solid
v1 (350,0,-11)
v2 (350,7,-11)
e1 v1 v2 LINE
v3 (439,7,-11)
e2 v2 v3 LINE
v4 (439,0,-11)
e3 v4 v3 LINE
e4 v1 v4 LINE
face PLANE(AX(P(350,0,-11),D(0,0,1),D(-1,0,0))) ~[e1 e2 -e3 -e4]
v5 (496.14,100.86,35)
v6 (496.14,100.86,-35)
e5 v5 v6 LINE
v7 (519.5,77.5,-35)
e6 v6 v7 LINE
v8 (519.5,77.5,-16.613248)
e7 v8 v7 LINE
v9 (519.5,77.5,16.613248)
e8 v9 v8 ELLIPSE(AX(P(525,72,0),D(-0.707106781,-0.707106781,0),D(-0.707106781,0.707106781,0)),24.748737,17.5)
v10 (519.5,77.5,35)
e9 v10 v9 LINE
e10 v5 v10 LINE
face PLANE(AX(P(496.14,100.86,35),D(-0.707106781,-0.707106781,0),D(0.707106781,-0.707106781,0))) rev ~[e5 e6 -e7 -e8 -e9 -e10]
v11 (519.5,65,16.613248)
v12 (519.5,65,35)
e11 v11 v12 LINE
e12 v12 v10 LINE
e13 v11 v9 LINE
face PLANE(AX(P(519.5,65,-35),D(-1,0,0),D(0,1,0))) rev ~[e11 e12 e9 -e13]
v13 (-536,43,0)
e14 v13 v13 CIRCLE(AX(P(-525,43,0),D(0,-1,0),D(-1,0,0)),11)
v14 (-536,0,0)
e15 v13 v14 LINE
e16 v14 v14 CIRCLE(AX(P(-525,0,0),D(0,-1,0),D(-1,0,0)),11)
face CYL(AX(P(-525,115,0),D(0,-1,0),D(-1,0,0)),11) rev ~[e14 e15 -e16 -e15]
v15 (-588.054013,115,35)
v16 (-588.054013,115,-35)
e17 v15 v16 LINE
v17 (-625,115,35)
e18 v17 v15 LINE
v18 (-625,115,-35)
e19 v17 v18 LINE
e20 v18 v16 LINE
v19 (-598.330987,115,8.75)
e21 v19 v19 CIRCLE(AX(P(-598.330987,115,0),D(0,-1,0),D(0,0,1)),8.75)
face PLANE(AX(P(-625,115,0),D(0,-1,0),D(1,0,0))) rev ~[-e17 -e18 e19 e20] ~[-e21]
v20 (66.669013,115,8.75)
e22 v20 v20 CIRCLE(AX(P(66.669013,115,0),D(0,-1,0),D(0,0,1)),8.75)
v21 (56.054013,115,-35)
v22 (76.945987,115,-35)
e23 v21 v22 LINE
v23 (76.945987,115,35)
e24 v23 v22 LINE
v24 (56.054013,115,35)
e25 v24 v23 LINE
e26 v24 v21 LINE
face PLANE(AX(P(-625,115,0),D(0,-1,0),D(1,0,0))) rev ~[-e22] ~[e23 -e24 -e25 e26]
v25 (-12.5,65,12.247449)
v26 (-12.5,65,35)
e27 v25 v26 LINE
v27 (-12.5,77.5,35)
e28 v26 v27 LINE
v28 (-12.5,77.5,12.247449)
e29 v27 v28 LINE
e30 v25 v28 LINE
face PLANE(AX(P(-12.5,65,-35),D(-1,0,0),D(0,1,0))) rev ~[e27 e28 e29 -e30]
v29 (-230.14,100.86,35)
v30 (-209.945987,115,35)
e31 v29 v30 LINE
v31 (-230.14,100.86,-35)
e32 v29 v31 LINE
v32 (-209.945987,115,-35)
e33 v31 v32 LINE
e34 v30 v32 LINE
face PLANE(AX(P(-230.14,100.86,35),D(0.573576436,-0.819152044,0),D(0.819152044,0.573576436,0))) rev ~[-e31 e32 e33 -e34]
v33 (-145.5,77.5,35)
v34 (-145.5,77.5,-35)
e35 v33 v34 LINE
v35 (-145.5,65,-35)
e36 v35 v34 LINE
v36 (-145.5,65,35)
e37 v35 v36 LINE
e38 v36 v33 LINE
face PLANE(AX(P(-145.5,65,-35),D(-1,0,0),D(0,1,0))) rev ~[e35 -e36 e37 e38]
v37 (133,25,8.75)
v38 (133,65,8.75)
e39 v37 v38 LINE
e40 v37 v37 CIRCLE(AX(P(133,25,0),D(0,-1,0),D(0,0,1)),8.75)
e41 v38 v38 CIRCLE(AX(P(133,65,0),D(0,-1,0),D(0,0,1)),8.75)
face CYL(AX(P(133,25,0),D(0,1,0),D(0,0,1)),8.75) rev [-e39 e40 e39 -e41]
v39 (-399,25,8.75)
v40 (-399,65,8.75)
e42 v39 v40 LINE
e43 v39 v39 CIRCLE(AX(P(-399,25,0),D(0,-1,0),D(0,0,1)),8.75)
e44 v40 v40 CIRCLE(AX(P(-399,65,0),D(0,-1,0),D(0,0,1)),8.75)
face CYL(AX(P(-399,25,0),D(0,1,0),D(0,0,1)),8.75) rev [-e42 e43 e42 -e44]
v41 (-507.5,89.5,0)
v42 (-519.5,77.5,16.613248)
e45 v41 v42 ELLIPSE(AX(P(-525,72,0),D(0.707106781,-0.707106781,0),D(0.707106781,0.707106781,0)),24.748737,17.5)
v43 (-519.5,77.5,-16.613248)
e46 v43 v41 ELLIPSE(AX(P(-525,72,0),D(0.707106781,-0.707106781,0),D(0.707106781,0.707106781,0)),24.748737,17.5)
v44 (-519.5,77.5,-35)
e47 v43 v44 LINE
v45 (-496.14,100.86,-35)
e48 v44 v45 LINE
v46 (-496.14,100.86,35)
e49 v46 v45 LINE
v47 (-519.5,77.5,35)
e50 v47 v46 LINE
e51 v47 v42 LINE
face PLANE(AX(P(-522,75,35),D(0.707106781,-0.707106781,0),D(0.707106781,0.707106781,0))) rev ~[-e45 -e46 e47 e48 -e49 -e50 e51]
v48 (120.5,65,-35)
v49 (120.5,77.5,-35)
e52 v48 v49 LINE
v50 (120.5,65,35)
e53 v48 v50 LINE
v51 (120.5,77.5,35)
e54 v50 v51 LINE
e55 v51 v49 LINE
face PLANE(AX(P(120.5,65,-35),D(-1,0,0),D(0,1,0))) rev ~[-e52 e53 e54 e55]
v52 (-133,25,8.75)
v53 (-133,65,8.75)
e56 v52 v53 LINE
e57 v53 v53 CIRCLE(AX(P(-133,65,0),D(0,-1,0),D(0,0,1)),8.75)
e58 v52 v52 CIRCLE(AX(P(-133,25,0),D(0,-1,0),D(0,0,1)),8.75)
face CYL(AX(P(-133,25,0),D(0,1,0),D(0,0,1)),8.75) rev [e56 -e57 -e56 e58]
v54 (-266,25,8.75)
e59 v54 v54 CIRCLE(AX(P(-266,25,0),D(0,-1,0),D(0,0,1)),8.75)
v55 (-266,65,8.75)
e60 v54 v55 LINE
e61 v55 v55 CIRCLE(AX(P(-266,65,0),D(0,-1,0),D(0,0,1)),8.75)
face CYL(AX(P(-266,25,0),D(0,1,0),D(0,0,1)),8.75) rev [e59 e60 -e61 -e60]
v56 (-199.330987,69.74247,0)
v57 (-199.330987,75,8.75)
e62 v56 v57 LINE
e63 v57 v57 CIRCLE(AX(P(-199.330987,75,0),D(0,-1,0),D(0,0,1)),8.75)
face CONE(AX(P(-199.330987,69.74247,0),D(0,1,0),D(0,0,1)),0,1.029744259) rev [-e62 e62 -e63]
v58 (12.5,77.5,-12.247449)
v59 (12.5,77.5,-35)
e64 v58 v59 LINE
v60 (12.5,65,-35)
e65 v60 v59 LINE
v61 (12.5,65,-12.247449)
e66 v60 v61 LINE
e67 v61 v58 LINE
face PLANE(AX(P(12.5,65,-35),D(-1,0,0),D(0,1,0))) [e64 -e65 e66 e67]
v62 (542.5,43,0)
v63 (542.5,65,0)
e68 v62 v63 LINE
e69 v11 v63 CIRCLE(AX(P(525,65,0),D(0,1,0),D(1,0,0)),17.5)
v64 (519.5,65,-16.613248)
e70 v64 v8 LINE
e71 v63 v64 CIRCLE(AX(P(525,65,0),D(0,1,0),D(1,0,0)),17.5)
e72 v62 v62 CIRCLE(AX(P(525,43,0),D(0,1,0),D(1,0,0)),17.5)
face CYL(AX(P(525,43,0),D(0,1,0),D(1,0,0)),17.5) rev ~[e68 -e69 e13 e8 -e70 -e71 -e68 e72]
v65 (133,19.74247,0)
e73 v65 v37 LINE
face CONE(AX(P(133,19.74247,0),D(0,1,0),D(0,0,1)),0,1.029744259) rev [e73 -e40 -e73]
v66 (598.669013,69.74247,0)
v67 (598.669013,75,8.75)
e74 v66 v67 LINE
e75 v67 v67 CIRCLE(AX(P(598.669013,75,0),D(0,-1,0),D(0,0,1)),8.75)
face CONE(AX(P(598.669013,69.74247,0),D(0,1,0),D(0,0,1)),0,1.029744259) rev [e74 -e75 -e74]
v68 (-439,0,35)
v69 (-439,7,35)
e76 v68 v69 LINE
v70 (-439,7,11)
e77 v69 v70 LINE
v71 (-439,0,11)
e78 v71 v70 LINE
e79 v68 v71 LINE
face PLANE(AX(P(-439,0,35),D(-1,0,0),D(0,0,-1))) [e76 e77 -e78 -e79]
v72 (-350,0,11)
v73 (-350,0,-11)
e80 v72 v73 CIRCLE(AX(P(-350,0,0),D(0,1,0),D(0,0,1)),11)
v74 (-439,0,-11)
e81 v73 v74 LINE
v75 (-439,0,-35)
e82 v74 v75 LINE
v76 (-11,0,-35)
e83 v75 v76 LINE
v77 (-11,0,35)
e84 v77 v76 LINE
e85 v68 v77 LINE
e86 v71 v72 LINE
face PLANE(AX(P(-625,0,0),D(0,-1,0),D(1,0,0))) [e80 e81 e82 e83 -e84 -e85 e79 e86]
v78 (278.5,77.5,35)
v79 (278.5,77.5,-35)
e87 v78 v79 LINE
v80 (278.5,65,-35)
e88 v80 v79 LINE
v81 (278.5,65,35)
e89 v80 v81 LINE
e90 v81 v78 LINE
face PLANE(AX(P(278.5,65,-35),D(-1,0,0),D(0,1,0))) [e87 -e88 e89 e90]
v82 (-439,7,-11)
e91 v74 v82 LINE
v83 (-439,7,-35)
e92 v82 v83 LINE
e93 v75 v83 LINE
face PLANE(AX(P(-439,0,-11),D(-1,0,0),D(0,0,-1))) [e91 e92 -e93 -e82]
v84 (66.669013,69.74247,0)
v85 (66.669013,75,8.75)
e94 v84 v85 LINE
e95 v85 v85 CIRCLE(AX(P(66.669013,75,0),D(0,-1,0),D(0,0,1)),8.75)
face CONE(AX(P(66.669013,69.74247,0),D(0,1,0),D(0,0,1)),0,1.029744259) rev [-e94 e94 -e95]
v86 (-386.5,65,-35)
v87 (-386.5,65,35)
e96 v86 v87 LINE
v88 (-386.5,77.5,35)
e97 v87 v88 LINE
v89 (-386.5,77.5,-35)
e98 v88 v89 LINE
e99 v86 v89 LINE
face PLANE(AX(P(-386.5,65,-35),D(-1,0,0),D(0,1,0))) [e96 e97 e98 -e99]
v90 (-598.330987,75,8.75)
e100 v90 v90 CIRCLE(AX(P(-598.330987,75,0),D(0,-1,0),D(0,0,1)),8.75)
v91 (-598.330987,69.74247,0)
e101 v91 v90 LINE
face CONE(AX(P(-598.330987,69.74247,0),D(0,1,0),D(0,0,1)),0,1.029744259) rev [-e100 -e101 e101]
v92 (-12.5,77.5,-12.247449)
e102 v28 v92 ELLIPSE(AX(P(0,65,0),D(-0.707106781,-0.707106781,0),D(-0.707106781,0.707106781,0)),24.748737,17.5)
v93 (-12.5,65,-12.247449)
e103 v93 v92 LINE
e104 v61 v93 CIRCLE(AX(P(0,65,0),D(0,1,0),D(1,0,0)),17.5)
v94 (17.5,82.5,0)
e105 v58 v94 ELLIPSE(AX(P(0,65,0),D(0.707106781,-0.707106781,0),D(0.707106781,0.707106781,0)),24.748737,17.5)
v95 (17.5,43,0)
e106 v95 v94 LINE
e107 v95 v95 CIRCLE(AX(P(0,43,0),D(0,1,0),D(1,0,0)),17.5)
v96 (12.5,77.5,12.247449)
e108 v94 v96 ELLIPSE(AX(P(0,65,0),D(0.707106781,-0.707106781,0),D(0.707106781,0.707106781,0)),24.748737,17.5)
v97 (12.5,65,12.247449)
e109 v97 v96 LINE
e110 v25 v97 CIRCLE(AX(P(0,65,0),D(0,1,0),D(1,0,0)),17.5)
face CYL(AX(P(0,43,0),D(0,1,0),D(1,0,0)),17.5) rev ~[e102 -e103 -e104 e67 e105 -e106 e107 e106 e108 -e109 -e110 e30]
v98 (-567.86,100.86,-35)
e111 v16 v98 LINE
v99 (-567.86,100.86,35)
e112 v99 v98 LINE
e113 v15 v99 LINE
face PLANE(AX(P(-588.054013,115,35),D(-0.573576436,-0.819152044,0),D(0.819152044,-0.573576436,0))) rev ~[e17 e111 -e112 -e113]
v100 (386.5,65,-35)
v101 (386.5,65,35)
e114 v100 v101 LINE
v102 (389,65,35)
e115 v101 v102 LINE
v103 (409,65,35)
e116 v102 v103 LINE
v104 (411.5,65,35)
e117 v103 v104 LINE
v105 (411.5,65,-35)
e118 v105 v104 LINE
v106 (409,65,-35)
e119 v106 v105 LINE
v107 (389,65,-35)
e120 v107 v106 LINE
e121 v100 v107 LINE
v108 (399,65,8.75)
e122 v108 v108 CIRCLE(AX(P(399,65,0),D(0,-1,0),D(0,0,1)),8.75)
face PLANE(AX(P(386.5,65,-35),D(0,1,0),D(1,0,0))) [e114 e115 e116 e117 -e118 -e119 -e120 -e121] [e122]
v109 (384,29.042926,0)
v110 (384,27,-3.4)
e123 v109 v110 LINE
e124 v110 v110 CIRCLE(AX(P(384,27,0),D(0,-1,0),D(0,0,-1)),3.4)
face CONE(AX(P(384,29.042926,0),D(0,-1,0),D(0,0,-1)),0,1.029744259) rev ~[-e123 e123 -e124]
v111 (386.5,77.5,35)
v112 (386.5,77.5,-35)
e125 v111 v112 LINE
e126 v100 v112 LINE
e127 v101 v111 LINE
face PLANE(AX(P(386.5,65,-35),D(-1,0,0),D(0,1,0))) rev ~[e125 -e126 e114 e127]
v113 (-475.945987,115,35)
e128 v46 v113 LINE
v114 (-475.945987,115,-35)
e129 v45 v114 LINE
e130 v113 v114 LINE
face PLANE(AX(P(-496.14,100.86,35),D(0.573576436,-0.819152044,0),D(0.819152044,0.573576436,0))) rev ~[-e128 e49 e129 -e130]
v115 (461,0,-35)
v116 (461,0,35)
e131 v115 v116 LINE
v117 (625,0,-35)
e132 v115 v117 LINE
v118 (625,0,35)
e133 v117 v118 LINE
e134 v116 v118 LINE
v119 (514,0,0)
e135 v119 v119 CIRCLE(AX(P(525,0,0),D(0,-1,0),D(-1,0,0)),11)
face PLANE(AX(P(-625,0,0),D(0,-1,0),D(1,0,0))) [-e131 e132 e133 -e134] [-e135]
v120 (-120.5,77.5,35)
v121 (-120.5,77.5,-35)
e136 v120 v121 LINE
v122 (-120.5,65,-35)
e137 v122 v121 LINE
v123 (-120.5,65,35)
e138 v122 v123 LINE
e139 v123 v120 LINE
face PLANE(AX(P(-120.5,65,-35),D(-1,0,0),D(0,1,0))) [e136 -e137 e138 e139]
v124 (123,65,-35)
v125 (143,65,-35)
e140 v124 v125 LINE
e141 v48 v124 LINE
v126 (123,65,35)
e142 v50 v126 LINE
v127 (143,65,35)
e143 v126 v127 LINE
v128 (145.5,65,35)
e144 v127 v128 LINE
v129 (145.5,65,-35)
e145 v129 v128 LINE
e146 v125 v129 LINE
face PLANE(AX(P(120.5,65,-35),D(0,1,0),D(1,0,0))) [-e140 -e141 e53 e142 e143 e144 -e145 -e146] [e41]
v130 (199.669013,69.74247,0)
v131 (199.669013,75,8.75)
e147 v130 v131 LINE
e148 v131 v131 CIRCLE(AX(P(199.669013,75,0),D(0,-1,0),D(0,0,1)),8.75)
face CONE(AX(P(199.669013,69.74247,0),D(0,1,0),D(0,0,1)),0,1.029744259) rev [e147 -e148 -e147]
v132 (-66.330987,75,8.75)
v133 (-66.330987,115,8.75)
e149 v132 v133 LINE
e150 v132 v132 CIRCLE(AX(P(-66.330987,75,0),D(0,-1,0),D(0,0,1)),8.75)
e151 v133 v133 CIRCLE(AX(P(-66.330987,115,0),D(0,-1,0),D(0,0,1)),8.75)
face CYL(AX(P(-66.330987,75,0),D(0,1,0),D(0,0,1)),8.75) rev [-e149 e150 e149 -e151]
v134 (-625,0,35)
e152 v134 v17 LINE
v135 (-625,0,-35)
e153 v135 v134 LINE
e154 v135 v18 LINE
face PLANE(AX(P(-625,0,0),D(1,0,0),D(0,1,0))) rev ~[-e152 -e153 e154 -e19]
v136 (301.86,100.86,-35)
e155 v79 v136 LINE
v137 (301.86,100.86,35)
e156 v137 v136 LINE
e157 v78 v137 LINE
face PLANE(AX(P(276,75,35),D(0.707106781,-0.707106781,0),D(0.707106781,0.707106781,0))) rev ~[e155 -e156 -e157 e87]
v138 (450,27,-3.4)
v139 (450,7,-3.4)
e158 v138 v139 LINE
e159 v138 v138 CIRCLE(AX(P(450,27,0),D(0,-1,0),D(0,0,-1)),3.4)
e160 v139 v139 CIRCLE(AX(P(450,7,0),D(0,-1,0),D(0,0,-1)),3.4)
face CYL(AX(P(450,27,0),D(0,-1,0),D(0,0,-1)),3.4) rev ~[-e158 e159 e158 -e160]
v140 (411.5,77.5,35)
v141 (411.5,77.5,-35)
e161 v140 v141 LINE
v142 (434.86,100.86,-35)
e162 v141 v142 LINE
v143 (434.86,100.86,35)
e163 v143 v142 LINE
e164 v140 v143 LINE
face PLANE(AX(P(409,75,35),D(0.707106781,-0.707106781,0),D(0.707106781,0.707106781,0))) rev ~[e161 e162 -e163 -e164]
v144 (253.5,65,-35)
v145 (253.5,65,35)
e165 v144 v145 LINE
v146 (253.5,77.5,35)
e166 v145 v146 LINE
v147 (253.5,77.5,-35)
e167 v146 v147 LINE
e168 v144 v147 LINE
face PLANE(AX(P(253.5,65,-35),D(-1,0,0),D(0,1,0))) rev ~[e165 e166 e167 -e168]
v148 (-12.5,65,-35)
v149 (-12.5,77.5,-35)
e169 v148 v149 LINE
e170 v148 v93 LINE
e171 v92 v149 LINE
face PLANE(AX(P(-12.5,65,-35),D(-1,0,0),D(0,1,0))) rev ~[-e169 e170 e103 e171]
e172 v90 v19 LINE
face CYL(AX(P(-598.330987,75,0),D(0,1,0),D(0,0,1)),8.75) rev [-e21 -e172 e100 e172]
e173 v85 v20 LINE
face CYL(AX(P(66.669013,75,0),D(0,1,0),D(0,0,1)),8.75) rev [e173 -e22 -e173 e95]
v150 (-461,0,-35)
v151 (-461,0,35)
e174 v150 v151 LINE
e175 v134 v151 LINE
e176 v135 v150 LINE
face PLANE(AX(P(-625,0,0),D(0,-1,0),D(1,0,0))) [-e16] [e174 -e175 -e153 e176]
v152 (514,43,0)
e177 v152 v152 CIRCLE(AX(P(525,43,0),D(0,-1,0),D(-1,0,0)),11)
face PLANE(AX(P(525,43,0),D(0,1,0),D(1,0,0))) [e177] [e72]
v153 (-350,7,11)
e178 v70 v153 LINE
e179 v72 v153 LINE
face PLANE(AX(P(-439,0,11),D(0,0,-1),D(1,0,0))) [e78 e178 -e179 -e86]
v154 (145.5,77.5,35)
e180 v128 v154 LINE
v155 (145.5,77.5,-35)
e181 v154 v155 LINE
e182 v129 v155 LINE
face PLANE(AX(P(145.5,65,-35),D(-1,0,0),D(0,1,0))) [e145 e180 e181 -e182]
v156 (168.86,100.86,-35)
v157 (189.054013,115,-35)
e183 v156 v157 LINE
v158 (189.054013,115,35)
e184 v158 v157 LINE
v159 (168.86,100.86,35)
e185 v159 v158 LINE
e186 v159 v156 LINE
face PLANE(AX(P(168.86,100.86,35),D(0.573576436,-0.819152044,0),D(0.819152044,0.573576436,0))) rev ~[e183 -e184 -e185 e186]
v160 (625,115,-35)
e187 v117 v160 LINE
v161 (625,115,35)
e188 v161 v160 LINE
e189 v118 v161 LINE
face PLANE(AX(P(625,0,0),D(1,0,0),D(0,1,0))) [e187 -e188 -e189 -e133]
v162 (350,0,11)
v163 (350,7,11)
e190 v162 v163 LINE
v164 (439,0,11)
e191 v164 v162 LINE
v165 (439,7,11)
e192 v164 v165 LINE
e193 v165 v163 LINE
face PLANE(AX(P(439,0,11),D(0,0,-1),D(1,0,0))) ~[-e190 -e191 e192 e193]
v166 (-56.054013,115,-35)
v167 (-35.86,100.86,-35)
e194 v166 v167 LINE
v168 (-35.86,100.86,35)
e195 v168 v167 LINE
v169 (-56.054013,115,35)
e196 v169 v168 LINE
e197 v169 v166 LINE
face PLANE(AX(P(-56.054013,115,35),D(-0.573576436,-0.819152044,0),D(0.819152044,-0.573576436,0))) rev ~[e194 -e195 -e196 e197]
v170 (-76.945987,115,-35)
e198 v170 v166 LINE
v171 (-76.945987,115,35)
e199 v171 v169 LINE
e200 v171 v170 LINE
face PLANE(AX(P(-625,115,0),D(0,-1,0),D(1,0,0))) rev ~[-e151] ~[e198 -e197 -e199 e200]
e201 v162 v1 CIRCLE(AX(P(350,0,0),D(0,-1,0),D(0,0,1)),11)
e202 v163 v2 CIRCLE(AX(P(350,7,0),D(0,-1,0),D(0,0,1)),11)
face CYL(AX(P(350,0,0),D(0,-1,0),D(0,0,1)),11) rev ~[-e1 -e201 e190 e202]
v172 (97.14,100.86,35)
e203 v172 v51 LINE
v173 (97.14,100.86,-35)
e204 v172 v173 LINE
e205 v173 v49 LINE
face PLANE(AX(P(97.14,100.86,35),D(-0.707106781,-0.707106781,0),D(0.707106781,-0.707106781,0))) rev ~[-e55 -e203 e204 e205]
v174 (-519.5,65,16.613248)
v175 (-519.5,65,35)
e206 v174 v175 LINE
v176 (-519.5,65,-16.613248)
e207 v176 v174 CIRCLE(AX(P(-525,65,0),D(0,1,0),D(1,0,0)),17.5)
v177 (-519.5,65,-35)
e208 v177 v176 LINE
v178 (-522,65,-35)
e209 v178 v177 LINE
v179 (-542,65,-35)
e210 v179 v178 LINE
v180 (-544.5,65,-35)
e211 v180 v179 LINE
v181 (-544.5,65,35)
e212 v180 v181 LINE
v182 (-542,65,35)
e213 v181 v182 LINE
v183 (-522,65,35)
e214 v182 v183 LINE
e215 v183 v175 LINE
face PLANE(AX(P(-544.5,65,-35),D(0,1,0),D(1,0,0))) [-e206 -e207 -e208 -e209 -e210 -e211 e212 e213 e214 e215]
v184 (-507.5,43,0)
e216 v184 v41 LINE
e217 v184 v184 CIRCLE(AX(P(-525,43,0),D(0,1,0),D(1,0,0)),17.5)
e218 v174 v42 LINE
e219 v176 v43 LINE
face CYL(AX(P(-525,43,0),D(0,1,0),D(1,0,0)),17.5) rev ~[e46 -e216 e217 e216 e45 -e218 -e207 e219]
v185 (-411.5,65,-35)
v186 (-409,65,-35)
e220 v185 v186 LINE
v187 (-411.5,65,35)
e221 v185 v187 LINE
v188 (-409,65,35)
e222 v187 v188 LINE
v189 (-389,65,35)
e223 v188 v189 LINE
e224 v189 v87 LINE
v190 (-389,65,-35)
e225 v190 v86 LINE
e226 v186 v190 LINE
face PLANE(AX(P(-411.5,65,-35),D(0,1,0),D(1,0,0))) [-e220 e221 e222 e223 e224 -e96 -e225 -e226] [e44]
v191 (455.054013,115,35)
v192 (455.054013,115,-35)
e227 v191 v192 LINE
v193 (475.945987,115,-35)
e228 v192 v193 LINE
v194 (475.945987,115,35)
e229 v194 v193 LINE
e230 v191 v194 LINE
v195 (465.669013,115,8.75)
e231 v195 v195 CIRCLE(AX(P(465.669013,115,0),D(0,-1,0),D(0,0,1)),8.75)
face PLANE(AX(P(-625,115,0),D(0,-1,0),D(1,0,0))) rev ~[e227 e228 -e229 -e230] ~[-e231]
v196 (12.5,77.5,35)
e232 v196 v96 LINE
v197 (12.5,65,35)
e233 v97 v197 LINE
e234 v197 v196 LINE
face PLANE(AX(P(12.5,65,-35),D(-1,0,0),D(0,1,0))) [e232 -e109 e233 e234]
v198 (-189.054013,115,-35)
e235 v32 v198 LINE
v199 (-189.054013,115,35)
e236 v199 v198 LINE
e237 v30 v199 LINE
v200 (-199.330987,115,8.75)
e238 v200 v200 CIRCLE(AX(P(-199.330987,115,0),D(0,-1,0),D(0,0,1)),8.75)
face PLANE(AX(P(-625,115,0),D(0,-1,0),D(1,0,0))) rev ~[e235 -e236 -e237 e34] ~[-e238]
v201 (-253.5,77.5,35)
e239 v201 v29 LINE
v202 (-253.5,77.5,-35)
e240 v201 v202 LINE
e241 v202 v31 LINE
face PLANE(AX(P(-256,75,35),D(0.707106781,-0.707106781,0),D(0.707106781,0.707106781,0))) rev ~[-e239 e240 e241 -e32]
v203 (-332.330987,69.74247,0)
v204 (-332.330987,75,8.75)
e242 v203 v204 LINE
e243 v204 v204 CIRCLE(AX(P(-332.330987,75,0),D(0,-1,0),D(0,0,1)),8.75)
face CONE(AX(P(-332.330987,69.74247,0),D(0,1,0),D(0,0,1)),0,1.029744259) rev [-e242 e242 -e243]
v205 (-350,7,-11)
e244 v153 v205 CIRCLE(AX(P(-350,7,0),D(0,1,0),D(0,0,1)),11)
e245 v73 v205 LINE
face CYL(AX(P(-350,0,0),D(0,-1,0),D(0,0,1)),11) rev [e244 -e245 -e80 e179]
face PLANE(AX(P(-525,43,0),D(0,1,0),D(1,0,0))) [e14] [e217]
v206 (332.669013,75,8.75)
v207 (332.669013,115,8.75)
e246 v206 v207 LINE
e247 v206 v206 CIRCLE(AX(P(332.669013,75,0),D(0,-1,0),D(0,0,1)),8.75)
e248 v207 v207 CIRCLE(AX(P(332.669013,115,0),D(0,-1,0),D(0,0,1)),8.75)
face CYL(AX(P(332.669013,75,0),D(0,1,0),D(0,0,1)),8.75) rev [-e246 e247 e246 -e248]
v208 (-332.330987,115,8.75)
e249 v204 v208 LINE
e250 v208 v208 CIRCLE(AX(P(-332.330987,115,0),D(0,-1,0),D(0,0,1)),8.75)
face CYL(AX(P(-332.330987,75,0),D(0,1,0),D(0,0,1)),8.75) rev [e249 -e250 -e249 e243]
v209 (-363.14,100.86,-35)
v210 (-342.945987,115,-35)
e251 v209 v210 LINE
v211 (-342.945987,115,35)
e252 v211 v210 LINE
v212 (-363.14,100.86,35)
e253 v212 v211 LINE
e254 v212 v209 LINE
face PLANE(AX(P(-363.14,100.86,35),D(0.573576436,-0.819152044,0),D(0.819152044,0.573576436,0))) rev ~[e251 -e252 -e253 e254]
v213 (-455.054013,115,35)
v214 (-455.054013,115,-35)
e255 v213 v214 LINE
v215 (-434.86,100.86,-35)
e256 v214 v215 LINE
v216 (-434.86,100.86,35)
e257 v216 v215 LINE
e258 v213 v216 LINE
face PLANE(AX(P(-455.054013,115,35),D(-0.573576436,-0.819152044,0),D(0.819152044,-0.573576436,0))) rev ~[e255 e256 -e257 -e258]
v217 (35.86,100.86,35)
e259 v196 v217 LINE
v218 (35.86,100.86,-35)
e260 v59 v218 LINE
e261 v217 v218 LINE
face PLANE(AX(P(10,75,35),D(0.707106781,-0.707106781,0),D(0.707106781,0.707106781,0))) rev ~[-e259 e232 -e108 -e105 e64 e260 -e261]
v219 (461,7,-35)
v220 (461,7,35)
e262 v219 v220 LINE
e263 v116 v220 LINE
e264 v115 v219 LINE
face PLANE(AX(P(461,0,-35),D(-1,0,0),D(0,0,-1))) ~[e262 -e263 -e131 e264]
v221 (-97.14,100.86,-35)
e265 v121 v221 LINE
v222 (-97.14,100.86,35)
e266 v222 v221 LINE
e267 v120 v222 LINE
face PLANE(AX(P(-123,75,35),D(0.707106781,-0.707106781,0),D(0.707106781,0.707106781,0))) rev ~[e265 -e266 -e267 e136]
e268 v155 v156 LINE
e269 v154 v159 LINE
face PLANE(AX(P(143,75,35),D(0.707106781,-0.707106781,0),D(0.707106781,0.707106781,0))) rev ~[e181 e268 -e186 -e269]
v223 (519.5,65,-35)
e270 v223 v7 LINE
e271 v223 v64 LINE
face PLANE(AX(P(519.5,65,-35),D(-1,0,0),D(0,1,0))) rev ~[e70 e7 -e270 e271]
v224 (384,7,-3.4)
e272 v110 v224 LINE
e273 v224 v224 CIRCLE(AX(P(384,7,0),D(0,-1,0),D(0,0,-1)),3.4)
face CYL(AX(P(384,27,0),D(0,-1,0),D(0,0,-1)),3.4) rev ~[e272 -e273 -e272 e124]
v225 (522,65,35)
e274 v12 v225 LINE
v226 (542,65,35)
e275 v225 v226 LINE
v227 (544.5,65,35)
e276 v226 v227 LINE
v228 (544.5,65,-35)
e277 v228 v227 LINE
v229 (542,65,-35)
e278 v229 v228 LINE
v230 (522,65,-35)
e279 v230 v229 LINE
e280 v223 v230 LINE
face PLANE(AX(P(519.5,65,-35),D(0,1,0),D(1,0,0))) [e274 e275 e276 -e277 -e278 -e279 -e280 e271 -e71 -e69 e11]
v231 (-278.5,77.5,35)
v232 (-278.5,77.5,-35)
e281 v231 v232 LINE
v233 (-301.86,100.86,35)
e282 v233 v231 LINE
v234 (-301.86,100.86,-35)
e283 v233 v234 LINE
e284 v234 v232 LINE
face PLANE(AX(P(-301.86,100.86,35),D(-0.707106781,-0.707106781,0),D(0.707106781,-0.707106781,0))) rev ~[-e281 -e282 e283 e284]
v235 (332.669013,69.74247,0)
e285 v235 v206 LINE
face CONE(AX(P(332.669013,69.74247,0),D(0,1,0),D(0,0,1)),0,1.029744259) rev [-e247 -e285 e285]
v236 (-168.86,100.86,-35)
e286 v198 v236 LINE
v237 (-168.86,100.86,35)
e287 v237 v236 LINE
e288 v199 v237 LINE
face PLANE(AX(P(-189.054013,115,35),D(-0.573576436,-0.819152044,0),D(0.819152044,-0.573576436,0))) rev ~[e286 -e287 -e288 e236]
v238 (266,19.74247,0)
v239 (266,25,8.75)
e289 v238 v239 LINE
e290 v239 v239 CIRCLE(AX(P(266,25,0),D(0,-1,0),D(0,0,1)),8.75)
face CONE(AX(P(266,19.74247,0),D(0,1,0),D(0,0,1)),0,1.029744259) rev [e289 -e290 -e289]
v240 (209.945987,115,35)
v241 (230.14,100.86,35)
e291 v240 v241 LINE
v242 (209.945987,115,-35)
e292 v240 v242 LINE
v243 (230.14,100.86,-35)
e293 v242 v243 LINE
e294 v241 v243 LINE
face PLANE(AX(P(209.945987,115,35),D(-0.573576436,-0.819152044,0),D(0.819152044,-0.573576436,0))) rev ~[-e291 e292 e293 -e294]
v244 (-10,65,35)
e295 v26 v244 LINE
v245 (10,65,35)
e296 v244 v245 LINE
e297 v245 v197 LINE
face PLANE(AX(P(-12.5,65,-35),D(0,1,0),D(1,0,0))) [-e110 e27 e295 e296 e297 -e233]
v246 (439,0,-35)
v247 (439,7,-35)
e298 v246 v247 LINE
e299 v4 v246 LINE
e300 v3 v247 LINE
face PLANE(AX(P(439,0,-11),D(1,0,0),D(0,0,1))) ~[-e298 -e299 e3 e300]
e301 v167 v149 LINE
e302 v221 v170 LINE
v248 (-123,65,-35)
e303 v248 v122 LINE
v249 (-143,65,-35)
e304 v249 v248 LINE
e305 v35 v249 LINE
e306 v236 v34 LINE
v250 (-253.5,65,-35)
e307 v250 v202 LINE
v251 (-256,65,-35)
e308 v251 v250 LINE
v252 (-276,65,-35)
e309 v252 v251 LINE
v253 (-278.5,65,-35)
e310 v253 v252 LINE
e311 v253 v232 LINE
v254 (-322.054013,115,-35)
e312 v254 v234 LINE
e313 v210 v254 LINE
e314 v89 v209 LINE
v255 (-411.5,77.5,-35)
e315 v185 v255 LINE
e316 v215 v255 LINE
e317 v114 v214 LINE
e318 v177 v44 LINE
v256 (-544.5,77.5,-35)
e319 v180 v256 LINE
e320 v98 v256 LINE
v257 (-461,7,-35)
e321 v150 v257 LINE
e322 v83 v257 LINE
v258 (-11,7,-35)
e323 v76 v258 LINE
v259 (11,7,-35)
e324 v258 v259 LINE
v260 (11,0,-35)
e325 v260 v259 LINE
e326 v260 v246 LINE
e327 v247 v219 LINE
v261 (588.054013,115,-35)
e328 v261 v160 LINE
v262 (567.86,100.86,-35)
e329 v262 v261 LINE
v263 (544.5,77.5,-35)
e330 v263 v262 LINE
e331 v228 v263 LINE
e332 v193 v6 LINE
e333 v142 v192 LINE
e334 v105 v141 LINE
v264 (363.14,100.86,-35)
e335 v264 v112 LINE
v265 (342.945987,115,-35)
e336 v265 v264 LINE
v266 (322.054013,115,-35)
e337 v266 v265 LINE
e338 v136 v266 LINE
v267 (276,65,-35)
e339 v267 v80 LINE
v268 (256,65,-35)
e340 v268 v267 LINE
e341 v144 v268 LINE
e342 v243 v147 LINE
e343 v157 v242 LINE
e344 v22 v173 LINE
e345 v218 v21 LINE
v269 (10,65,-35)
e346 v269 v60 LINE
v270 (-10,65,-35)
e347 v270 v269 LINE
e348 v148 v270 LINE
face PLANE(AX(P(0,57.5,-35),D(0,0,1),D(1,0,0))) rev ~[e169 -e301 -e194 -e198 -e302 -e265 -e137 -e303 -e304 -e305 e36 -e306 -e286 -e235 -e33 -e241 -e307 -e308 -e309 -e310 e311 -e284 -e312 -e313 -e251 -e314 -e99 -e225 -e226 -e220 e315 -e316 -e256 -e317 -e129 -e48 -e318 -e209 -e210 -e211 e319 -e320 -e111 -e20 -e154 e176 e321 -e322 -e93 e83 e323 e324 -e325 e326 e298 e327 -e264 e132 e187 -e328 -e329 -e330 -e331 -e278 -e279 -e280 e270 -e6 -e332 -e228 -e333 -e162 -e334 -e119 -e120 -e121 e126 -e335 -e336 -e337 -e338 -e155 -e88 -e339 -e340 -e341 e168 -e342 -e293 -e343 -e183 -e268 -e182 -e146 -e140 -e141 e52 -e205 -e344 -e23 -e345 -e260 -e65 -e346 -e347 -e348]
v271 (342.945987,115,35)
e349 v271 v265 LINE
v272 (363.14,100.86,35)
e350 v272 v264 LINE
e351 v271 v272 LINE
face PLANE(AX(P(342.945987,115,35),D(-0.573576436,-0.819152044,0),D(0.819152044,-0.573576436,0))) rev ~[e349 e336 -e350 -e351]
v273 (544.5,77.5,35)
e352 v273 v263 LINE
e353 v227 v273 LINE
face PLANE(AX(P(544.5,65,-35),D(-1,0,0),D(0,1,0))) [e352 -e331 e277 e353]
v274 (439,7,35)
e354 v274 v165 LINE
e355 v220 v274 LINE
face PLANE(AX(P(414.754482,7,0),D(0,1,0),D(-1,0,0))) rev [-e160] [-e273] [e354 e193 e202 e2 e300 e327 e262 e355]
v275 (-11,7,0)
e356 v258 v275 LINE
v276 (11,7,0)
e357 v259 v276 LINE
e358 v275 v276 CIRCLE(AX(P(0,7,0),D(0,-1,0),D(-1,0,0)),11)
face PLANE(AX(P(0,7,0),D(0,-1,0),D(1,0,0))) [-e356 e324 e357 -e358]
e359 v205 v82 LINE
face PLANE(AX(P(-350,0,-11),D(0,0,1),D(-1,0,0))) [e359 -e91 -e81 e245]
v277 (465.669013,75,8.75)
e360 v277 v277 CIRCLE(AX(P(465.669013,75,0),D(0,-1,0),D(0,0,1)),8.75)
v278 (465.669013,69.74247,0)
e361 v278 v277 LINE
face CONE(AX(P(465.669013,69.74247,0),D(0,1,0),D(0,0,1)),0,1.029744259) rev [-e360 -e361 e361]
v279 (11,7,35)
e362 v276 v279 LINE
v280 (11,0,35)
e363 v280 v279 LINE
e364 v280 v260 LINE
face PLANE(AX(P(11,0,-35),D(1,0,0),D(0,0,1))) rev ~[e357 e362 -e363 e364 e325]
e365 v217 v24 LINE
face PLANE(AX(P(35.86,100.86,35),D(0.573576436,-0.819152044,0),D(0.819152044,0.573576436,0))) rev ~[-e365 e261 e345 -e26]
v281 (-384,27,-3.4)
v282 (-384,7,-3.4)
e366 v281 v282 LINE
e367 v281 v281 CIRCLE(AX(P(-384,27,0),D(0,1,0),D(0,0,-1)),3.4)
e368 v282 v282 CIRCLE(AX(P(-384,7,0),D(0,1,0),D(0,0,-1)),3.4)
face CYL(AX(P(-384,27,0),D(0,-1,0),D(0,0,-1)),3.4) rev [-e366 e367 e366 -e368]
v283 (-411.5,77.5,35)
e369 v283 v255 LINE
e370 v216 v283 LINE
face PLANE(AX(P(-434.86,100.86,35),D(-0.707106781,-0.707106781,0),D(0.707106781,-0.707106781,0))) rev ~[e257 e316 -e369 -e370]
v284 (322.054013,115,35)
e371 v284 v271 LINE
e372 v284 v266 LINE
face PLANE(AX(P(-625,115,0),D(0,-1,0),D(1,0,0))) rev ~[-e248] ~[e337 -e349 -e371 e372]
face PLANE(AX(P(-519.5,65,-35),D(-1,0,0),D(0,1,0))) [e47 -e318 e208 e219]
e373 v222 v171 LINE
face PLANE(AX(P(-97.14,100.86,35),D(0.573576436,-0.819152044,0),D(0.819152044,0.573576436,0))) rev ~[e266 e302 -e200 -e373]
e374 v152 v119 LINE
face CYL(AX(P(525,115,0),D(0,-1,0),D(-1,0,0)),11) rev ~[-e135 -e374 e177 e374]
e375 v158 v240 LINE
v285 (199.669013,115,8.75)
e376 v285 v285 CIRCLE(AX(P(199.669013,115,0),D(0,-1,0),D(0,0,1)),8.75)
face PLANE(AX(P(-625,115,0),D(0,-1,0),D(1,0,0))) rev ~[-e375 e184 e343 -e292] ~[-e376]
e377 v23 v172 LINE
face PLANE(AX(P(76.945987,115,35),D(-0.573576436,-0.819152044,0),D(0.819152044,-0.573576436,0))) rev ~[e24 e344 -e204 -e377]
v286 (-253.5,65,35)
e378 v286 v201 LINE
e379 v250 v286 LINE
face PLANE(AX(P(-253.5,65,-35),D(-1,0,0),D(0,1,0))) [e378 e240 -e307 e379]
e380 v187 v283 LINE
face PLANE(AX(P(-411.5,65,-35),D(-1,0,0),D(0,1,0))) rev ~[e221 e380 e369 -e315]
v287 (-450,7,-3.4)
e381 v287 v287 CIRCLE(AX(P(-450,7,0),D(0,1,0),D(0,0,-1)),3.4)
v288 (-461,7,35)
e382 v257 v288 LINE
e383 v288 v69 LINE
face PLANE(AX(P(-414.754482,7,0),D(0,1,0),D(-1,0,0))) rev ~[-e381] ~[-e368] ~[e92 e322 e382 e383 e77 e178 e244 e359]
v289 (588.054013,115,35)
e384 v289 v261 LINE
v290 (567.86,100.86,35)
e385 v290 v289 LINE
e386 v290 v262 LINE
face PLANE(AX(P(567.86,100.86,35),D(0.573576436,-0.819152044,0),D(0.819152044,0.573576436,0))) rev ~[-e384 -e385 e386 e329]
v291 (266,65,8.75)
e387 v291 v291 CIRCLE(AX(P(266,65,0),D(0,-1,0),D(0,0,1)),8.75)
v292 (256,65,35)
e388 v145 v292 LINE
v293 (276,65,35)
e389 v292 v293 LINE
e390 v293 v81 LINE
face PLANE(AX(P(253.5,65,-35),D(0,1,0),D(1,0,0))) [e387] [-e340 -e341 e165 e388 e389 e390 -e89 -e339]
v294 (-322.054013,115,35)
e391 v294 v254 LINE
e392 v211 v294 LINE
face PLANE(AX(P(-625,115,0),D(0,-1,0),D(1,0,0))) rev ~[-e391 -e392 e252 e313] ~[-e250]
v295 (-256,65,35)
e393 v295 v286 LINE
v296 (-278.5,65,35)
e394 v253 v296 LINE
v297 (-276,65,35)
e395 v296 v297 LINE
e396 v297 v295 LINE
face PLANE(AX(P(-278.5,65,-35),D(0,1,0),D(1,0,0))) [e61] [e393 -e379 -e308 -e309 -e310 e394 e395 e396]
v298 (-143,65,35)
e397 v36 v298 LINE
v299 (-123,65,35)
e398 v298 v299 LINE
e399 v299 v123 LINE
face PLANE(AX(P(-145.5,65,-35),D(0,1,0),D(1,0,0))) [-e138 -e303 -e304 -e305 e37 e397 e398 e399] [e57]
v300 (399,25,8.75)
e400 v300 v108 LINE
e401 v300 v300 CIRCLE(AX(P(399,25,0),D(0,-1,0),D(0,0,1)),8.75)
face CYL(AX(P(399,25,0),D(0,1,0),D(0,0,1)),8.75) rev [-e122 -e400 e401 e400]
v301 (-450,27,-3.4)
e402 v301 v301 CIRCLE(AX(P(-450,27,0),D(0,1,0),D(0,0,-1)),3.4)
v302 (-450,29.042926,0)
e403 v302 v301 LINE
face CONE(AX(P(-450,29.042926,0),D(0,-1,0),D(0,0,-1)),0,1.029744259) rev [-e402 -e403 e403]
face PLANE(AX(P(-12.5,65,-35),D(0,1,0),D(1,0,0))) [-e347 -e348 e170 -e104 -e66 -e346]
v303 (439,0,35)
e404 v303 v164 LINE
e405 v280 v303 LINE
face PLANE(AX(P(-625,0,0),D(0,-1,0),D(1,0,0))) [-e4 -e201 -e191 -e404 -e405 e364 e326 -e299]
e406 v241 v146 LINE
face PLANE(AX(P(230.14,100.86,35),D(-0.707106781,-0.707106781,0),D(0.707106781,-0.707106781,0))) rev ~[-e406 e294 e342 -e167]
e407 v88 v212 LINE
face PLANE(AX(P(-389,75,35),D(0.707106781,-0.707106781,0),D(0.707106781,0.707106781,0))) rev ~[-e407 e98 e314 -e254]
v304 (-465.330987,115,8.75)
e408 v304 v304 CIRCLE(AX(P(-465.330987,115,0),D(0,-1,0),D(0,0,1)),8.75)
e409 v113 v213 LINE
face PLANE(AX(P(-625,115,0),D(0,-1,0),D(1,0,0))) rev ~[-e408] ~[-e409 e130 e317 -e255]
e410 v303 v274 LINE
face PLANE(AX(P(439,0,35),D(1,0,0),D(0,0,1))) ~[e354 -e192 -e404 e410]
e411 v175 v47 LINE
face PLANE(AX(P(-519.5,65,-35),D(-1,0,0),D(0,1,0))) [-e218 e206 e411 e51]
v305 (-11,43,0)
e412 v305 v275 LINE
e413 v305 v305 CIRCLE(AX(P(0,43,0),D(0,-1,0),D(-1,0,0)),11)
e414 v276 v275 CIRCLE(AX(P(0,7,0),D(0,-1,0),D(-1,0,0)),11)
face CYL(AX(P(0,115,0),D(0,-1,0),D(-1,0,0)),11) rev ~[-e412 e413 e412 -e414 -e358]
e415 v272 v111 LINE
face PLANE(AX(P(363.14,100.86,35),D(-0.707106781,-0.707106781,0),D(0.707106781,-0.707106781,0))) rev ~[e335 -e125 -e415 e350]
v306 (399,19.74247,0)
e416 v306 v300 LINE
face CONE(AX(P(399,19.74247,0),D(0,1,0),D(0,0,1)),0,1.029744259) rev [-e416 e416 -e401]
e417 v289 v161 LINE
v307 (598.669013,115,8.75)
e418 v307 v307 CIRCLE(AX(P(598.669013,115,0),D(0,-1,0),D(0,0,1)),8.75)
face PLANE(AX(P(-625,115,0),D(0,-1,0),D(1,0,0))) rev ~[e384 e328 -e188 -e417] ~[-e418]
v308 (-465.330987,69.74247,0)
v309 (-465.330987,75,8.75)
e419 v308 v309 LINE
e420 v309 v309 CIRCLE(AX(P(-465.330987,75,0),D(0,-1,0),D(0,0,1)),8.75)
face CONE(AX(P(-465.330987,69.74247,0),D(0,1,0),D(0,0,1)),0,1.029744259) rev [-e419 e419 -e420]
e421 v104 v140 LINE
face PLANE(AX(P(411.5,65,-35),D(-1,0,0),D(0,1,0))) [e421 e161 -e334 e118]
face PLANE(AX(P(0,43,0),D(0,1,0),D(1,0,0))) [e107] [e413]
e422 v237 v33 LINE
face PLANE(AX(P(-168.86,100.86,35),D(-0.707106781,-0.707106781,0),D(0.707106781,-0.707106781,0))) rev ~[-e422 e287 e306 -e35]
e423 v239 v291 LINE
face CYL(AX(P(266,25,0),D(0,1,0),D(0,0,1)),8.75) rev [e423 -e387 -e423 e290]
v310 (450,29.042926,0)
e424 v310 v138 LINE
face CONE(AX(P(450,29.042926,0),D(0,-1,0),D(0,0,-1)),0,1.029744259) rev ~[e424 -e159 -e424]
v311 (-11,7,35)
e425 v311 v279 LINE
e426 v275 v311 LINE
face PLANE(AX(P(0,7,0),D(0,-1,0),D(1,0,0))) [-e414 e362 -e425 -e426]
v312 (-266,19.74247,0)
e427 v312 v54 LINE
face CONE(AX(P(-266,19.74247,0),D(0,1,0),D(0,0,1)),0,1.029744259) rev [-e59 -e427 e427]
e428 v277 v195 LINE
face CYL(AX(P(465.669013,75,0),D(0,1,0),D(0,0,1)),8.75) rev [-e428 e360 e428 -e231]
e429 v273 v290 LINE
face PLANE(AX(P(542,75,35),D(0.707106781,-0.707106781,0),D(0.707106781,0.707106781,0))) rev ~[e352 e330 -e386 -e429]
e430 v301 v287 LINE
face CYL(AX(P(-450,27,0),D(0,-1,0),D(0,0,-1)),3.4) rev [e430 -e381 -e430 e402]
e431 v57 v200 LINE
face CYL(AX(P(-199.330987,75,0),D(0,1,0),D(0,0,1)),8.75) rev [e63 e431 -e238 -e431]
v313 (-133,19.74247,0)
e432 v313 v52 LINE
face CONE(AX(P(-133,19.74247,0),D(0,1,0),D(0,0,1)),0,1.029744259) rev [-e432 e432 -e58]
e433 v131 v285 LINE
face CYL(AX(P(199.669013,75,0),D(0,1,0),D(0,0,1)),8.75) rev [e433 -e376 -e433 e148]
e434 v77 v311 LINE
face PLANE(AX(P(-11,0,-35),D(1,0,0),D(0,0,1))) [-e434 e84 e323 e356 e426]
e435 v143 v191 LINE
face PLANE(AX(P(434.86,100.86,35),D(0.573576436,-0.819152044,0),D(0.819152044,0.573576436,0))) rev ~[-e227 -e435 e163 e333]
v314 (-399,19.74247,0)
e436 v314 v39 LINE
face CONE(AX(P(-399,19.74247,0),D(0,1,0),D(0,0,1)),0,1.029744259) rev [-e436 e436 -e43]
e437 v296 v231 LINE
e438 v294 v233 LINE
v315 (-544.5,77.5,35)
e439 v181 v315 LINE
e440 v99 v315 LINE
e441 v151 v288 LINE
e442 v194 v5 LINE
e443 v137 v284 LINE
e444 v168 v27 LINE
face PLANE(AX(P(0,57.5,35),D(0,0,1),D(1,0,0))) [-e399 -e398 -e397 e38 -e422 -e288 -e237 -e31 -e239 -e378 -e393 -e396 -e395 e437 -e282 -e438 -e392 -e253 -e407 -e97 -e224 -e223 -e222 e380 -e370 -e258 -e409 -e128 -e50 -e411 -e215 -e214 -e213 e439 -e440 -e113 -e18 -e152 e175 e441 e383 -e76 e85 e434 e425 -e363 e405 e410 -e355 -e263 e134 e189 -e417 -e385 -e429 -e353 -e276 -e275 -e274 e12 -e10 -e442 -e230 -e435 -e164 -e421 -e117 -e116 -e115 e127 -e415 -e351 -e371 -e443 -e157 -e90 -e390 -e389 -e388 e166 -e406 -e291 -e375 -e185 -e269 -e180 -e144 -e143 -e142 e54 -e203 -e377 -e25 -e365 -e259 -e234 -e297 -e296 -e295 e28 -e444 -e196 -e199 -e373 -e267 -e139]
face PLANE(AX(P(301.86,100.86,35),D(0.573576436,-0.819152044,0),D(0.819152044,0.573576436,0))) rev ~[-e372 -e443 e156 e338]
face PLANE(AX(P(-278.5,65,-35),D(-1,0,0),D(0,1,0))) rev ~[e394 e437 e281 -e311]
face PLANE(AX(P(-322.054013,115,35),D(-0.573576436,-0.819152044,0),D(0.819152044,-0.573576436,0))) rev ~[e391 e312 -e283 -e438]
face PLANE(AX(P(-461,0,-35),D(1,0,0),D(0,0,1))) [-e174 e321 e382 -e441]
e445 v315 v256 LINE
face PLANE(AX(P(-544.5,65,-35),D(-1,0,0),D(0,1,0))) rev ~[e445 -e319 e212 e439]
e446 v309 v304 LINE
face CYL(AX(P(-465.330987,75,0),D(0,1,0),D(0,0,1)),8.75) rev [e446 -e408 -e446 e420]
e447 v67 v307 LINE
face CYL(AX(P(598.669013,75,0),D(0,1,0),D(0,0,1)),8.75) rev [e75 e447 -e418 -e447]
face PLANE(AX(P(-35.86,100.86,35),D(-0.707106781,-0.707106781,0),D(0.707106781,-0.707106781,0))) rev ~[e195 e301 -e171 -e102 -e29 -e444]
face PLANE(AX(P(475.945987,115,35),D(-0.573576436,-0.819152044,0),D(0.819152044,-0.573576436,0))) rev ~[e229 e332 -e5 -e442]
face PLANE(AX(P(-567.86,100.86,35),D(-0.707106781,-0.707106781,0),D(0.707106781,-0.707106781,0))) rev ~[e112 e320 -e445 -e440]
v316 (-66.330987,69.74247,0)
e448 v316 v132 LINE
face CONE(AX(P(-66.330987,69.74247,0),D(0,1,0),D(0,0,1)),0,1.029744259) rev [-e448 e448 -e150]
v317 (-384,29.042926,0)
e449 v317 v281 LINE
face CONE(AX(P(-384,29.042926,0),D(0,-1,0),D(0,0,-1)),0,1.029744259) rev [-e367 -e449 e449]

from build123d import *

# Parameters (mm, degrees)
SKETCH1_W                                = 1250
SKETCH1_H                                = 115
BOSS_EXTRUDE1_DEPTH                      = 35
CUT_EXTRUDE1_DEPTH                       = 70
CUT_EXTRUDE3_START                       = -70
SKETCH9_W                                = 25
SKETCH9_H                                = 38.657600419
CUT_EXTRUDE3_DEPTH                       = 70
LPATTERN1_COUNT                          = 9
LPATTERN1_PITCH                          = 133
LPATTERN2_COUNT                          = 9
LPATTERN2_PITCH                          = 133
LPATTERN2_COL_COUNT                      = 2
LPATTERN2_COL_PITCH                      = 133
LPATTERN3_COUNT                          = 7
LPATTERN3_PITCH                          = 133
CUT_EXTRUDE2_DEPTH                       = 7
M8_TAPPED_HOLE1_AT_2_COUNT               = 2
M8_TAPPED_HOLE1_AT_2_PITCH               = 66
CBORE_FOR_M20_HEX_HEAD_BOLT1_D           = 22
CBORE_FOR_M20_HEX_HEAD_BOLT1_CBORE_D     = 35
CBORE_FOR_M20_HEX_HEAD_BOLT1_CBORE_DEPTH = 72
LPATTERN4_COUNT                          = 3
LPATTERN4_PITCH                          = 525
SKETCH14_W                               = 22
SKETCH14_H                               = 70
CUT_EXTRUDE4_DEPTH                       = 7


with BuildPart() as part:
    # Sketch1 → Boss-Extrude1 (new, symmetric)
    with BuildSketch(Plane.XY):
        with Locations((0, 57.5)):
            Rectangle(SKETCH1_W, SKETCH1_H)
    extrude(amount=BOSS_EXTRUDE1_DEPTH, both=True)

    # Sketch2 → Cut-Extrude1 (cut)
    with BuildSketch(Plane.XY.offset(35)):
        Polygon((-475.945987185, 115), (-588.054012815, 115), (-567.86, 100.86), (-542, 75), (-542, 65), (-522, 65), (-522, 75), (-496.14, 100.86), align=None)
    cut_extrude1 = extrude(amount=-CUT_EXTRUDE1_DEPTH, mode=Mode.SUBTRACT)

    # Sketch9 → Cut-Extrude3 (cut)
    with BuildSketch(Plane.XY.offset(35).offset(CUT_EXTRUDE3_START)):
        with Locations((-532, 84.32880021)):
            Rectangle(SKETCH9_W, SKETCH9_H)
    cut_extrude3 = extrude(amount=CUT_EXTRUDE3_DEPTH, mode=Mode.SUBTRACT)

    # Sketch4 → M20 Tapped Hole1 (revolve, cut)
    with BuildSketch(Plane(origin=(-465.330987185, 115, 0), x_dir=(0, 0, 1), z_dir=(1, 0, 0))):
        Polygon((0, 0), (0, 45.257530416), (8.75, 40), (8.75, 0), align=None)
    m20_tapped_hole1 = revolve(axis=Axis((-465.330987185, 121.35, 0), (0, -1, 0)), mode=Mode.SUBTRACT)

    # LPattern1: Cut-Extrude1, Cut-Extrude3 ×9
    with Locations(*[(i * LPATTERN1_PITCH, 0, 0) for i in range(1, LPATTERN1_COUNT)]):
        add(cut_extrude1, mode=Mode.SUBTRACT)
        add(cut_extrude3, mode=Mode.SUBTRACT)

    # LPattern2: M20 Tapped Hole1 ×9
    with Locations(*[(i * LPATTERN2_PITCH, 0, 0) for i in range(1, LPATTERN2_COUNT)]):
        add(m20_tapped_hole1, mode=Mode.SUBTRACT)

    # LPattern2 col: M20 Tapped Hole1 ×2
    with Locations(*[(-i * LPATTERN2_COL_PITCH, 0, 0) for i in range(1, LPATTERN2_COL_COUNT)]):
        add(m20_tapped_hole1, mode=Mode.SUBTRACT)

    # Sketch7 → M20 Tapped Hole2 (revolve, cut)
    with BuildSketch(Plane(origin=(-399, 65, 0), x_dir=(0, 0, 1), z_dir=(1, 0, 0))):
        Polygon((0, 0), (0, 45.257530416), (8.75, 40), (8.75, 0), align=None)
    m20_tapped_hole2 = revolve(axis=Axis((-399, 71.35, 0), (0, -1, 0)), mode=Mode.SUBTRACT)

    # LPattern3: M20 Tapped Hole2 ×7, 1 skipped
    with Locations(*[(i * LPATTERN3_PITCH, 0, 0) for i in range(1, LPATTERN3_COUNT) if i not in (3,)]):
        add(m20_tapped_hole2, mode=Mode.SUBTRACT)

    # Sketch8 → Cut-Extrude2 (cut)
    with BuildSketch(Plane.XZ):
        with BuildLine():
            Line((-461, 35), (-439, 35))
            Line((-439, 35), (-439, 11))
            Line((-439, 11), (-350, 11))
            ThreePointArc((-350, 11), (-339, 0), (-350, -11))
            Line((-350, -11), (-439, -11))
            Line((-439, -11), (-439, -35))
            Line((-439, -35), (-461, -35))
            Line((-461, -35), (-461, 35))
        make_face()
    cut_extrude2 = extrude(amount=-CUT_EXTRUDE2_DEPTH, mode=Mode.SUBTRACT)

    # Sketch13 → M8 Tapped Hole1 (revolve, cut)
    with BuildSketch(Plane(origin=(-450, 7, 0), x_dir=(0, 0, -1), z_dir=(1, 0, 0))):
        Polygon((0, 0), (0, 22.042926105), (3.4, 20), (3.4, 0), align=None)
    m8_tapped_hole1 = revolve(axis=Axis((-450, 0.65, 0), (0, 1, 0)), mode=Mode.SUBTRACT)

    # M8 Tapped Hole1 at 2: M8 Tapped Hole1 ×2
    with Locations(*[(i * M8_TAPPED_HOLE1_AT_2_PITCH, 0, 0) for i in range(1, M8_TAPPED_HOLE1_AT_2_COUNT)]):
        add(m8_tapped_hole1, mode=Mode.SUBTRACT)

    # Mirror1: Cut-Extrude2, M8 Tapped Hole1 across plane
    add(cut_extrude2.mirror(Plane(origin=(0, 0, 0), x_dir=(0, 0, 1), z_dir=(1, 0, 0))), mode=Mode.SUBTRACT)
    add(m8_tapped_hole1.mirror(Plane(origin=(0, 0, 0), x_dir=(0, 0, 1), z_dir=(1, 0, 0))), mode=Mode.SUBTRACT)

    # Mirror1 copy 1 sketch → Mirror1 copy 1 (revolve, cut)
    with BuildSketch(Plane(origin=(384, 7, 0), x_dir=(0, 0, -1), z_dir=(-1, 0, 0))):
        Polygon((0, 0), (0, -22.042926105), (3.4, -20), (3.4, 0), align=None)
    revolve(axis=Axis((384, 0.65, 0), (0, -1, 0)), mode=Mode.SUBTRACT)

    # CBORE for M20 Hex Head Bolt1 (through all)
    with Locations(Plane(origin=(0, 115, 0), x_dir=(1, 0, 0), z_dir=(0, 1, 0))):
        with Locations((-525, 0)):
            cbore_for_m20_hex_head_bolt1 = CounterBoreHole(CBORE_FOR_M20_HEX_HEAD_BOLT1_D / 2, CBORE_FOR_M20_HEX_HEAD_BOLT1_CBORE_D / 2, CBORE_FOR_M20_HEX_HEAD_BOLT1_CBORE_DEPTH)

    # LPattern4: CBORE for M20 Hex Head Bolt1 ×3
    with Locations(*[(i * LPATTERN4_PITCH, 0, 0) for i in range(1, LPATTERN4_COUNT)]):
        add(cbore_for_m20_hex_head_bolt1, mode=Mode.SUBTRACT)

    # Sketch14 → Cut-Extrude4 (cut)
    with BuildSketch(Plane.XZ):
        Rectangle(SKETCH14_W, SKETCH14_H)
    extrude(amount=-CUT_EXTRUDE4_DEPTH, mode=Mode.SUBTRACT)


solid = part.part
